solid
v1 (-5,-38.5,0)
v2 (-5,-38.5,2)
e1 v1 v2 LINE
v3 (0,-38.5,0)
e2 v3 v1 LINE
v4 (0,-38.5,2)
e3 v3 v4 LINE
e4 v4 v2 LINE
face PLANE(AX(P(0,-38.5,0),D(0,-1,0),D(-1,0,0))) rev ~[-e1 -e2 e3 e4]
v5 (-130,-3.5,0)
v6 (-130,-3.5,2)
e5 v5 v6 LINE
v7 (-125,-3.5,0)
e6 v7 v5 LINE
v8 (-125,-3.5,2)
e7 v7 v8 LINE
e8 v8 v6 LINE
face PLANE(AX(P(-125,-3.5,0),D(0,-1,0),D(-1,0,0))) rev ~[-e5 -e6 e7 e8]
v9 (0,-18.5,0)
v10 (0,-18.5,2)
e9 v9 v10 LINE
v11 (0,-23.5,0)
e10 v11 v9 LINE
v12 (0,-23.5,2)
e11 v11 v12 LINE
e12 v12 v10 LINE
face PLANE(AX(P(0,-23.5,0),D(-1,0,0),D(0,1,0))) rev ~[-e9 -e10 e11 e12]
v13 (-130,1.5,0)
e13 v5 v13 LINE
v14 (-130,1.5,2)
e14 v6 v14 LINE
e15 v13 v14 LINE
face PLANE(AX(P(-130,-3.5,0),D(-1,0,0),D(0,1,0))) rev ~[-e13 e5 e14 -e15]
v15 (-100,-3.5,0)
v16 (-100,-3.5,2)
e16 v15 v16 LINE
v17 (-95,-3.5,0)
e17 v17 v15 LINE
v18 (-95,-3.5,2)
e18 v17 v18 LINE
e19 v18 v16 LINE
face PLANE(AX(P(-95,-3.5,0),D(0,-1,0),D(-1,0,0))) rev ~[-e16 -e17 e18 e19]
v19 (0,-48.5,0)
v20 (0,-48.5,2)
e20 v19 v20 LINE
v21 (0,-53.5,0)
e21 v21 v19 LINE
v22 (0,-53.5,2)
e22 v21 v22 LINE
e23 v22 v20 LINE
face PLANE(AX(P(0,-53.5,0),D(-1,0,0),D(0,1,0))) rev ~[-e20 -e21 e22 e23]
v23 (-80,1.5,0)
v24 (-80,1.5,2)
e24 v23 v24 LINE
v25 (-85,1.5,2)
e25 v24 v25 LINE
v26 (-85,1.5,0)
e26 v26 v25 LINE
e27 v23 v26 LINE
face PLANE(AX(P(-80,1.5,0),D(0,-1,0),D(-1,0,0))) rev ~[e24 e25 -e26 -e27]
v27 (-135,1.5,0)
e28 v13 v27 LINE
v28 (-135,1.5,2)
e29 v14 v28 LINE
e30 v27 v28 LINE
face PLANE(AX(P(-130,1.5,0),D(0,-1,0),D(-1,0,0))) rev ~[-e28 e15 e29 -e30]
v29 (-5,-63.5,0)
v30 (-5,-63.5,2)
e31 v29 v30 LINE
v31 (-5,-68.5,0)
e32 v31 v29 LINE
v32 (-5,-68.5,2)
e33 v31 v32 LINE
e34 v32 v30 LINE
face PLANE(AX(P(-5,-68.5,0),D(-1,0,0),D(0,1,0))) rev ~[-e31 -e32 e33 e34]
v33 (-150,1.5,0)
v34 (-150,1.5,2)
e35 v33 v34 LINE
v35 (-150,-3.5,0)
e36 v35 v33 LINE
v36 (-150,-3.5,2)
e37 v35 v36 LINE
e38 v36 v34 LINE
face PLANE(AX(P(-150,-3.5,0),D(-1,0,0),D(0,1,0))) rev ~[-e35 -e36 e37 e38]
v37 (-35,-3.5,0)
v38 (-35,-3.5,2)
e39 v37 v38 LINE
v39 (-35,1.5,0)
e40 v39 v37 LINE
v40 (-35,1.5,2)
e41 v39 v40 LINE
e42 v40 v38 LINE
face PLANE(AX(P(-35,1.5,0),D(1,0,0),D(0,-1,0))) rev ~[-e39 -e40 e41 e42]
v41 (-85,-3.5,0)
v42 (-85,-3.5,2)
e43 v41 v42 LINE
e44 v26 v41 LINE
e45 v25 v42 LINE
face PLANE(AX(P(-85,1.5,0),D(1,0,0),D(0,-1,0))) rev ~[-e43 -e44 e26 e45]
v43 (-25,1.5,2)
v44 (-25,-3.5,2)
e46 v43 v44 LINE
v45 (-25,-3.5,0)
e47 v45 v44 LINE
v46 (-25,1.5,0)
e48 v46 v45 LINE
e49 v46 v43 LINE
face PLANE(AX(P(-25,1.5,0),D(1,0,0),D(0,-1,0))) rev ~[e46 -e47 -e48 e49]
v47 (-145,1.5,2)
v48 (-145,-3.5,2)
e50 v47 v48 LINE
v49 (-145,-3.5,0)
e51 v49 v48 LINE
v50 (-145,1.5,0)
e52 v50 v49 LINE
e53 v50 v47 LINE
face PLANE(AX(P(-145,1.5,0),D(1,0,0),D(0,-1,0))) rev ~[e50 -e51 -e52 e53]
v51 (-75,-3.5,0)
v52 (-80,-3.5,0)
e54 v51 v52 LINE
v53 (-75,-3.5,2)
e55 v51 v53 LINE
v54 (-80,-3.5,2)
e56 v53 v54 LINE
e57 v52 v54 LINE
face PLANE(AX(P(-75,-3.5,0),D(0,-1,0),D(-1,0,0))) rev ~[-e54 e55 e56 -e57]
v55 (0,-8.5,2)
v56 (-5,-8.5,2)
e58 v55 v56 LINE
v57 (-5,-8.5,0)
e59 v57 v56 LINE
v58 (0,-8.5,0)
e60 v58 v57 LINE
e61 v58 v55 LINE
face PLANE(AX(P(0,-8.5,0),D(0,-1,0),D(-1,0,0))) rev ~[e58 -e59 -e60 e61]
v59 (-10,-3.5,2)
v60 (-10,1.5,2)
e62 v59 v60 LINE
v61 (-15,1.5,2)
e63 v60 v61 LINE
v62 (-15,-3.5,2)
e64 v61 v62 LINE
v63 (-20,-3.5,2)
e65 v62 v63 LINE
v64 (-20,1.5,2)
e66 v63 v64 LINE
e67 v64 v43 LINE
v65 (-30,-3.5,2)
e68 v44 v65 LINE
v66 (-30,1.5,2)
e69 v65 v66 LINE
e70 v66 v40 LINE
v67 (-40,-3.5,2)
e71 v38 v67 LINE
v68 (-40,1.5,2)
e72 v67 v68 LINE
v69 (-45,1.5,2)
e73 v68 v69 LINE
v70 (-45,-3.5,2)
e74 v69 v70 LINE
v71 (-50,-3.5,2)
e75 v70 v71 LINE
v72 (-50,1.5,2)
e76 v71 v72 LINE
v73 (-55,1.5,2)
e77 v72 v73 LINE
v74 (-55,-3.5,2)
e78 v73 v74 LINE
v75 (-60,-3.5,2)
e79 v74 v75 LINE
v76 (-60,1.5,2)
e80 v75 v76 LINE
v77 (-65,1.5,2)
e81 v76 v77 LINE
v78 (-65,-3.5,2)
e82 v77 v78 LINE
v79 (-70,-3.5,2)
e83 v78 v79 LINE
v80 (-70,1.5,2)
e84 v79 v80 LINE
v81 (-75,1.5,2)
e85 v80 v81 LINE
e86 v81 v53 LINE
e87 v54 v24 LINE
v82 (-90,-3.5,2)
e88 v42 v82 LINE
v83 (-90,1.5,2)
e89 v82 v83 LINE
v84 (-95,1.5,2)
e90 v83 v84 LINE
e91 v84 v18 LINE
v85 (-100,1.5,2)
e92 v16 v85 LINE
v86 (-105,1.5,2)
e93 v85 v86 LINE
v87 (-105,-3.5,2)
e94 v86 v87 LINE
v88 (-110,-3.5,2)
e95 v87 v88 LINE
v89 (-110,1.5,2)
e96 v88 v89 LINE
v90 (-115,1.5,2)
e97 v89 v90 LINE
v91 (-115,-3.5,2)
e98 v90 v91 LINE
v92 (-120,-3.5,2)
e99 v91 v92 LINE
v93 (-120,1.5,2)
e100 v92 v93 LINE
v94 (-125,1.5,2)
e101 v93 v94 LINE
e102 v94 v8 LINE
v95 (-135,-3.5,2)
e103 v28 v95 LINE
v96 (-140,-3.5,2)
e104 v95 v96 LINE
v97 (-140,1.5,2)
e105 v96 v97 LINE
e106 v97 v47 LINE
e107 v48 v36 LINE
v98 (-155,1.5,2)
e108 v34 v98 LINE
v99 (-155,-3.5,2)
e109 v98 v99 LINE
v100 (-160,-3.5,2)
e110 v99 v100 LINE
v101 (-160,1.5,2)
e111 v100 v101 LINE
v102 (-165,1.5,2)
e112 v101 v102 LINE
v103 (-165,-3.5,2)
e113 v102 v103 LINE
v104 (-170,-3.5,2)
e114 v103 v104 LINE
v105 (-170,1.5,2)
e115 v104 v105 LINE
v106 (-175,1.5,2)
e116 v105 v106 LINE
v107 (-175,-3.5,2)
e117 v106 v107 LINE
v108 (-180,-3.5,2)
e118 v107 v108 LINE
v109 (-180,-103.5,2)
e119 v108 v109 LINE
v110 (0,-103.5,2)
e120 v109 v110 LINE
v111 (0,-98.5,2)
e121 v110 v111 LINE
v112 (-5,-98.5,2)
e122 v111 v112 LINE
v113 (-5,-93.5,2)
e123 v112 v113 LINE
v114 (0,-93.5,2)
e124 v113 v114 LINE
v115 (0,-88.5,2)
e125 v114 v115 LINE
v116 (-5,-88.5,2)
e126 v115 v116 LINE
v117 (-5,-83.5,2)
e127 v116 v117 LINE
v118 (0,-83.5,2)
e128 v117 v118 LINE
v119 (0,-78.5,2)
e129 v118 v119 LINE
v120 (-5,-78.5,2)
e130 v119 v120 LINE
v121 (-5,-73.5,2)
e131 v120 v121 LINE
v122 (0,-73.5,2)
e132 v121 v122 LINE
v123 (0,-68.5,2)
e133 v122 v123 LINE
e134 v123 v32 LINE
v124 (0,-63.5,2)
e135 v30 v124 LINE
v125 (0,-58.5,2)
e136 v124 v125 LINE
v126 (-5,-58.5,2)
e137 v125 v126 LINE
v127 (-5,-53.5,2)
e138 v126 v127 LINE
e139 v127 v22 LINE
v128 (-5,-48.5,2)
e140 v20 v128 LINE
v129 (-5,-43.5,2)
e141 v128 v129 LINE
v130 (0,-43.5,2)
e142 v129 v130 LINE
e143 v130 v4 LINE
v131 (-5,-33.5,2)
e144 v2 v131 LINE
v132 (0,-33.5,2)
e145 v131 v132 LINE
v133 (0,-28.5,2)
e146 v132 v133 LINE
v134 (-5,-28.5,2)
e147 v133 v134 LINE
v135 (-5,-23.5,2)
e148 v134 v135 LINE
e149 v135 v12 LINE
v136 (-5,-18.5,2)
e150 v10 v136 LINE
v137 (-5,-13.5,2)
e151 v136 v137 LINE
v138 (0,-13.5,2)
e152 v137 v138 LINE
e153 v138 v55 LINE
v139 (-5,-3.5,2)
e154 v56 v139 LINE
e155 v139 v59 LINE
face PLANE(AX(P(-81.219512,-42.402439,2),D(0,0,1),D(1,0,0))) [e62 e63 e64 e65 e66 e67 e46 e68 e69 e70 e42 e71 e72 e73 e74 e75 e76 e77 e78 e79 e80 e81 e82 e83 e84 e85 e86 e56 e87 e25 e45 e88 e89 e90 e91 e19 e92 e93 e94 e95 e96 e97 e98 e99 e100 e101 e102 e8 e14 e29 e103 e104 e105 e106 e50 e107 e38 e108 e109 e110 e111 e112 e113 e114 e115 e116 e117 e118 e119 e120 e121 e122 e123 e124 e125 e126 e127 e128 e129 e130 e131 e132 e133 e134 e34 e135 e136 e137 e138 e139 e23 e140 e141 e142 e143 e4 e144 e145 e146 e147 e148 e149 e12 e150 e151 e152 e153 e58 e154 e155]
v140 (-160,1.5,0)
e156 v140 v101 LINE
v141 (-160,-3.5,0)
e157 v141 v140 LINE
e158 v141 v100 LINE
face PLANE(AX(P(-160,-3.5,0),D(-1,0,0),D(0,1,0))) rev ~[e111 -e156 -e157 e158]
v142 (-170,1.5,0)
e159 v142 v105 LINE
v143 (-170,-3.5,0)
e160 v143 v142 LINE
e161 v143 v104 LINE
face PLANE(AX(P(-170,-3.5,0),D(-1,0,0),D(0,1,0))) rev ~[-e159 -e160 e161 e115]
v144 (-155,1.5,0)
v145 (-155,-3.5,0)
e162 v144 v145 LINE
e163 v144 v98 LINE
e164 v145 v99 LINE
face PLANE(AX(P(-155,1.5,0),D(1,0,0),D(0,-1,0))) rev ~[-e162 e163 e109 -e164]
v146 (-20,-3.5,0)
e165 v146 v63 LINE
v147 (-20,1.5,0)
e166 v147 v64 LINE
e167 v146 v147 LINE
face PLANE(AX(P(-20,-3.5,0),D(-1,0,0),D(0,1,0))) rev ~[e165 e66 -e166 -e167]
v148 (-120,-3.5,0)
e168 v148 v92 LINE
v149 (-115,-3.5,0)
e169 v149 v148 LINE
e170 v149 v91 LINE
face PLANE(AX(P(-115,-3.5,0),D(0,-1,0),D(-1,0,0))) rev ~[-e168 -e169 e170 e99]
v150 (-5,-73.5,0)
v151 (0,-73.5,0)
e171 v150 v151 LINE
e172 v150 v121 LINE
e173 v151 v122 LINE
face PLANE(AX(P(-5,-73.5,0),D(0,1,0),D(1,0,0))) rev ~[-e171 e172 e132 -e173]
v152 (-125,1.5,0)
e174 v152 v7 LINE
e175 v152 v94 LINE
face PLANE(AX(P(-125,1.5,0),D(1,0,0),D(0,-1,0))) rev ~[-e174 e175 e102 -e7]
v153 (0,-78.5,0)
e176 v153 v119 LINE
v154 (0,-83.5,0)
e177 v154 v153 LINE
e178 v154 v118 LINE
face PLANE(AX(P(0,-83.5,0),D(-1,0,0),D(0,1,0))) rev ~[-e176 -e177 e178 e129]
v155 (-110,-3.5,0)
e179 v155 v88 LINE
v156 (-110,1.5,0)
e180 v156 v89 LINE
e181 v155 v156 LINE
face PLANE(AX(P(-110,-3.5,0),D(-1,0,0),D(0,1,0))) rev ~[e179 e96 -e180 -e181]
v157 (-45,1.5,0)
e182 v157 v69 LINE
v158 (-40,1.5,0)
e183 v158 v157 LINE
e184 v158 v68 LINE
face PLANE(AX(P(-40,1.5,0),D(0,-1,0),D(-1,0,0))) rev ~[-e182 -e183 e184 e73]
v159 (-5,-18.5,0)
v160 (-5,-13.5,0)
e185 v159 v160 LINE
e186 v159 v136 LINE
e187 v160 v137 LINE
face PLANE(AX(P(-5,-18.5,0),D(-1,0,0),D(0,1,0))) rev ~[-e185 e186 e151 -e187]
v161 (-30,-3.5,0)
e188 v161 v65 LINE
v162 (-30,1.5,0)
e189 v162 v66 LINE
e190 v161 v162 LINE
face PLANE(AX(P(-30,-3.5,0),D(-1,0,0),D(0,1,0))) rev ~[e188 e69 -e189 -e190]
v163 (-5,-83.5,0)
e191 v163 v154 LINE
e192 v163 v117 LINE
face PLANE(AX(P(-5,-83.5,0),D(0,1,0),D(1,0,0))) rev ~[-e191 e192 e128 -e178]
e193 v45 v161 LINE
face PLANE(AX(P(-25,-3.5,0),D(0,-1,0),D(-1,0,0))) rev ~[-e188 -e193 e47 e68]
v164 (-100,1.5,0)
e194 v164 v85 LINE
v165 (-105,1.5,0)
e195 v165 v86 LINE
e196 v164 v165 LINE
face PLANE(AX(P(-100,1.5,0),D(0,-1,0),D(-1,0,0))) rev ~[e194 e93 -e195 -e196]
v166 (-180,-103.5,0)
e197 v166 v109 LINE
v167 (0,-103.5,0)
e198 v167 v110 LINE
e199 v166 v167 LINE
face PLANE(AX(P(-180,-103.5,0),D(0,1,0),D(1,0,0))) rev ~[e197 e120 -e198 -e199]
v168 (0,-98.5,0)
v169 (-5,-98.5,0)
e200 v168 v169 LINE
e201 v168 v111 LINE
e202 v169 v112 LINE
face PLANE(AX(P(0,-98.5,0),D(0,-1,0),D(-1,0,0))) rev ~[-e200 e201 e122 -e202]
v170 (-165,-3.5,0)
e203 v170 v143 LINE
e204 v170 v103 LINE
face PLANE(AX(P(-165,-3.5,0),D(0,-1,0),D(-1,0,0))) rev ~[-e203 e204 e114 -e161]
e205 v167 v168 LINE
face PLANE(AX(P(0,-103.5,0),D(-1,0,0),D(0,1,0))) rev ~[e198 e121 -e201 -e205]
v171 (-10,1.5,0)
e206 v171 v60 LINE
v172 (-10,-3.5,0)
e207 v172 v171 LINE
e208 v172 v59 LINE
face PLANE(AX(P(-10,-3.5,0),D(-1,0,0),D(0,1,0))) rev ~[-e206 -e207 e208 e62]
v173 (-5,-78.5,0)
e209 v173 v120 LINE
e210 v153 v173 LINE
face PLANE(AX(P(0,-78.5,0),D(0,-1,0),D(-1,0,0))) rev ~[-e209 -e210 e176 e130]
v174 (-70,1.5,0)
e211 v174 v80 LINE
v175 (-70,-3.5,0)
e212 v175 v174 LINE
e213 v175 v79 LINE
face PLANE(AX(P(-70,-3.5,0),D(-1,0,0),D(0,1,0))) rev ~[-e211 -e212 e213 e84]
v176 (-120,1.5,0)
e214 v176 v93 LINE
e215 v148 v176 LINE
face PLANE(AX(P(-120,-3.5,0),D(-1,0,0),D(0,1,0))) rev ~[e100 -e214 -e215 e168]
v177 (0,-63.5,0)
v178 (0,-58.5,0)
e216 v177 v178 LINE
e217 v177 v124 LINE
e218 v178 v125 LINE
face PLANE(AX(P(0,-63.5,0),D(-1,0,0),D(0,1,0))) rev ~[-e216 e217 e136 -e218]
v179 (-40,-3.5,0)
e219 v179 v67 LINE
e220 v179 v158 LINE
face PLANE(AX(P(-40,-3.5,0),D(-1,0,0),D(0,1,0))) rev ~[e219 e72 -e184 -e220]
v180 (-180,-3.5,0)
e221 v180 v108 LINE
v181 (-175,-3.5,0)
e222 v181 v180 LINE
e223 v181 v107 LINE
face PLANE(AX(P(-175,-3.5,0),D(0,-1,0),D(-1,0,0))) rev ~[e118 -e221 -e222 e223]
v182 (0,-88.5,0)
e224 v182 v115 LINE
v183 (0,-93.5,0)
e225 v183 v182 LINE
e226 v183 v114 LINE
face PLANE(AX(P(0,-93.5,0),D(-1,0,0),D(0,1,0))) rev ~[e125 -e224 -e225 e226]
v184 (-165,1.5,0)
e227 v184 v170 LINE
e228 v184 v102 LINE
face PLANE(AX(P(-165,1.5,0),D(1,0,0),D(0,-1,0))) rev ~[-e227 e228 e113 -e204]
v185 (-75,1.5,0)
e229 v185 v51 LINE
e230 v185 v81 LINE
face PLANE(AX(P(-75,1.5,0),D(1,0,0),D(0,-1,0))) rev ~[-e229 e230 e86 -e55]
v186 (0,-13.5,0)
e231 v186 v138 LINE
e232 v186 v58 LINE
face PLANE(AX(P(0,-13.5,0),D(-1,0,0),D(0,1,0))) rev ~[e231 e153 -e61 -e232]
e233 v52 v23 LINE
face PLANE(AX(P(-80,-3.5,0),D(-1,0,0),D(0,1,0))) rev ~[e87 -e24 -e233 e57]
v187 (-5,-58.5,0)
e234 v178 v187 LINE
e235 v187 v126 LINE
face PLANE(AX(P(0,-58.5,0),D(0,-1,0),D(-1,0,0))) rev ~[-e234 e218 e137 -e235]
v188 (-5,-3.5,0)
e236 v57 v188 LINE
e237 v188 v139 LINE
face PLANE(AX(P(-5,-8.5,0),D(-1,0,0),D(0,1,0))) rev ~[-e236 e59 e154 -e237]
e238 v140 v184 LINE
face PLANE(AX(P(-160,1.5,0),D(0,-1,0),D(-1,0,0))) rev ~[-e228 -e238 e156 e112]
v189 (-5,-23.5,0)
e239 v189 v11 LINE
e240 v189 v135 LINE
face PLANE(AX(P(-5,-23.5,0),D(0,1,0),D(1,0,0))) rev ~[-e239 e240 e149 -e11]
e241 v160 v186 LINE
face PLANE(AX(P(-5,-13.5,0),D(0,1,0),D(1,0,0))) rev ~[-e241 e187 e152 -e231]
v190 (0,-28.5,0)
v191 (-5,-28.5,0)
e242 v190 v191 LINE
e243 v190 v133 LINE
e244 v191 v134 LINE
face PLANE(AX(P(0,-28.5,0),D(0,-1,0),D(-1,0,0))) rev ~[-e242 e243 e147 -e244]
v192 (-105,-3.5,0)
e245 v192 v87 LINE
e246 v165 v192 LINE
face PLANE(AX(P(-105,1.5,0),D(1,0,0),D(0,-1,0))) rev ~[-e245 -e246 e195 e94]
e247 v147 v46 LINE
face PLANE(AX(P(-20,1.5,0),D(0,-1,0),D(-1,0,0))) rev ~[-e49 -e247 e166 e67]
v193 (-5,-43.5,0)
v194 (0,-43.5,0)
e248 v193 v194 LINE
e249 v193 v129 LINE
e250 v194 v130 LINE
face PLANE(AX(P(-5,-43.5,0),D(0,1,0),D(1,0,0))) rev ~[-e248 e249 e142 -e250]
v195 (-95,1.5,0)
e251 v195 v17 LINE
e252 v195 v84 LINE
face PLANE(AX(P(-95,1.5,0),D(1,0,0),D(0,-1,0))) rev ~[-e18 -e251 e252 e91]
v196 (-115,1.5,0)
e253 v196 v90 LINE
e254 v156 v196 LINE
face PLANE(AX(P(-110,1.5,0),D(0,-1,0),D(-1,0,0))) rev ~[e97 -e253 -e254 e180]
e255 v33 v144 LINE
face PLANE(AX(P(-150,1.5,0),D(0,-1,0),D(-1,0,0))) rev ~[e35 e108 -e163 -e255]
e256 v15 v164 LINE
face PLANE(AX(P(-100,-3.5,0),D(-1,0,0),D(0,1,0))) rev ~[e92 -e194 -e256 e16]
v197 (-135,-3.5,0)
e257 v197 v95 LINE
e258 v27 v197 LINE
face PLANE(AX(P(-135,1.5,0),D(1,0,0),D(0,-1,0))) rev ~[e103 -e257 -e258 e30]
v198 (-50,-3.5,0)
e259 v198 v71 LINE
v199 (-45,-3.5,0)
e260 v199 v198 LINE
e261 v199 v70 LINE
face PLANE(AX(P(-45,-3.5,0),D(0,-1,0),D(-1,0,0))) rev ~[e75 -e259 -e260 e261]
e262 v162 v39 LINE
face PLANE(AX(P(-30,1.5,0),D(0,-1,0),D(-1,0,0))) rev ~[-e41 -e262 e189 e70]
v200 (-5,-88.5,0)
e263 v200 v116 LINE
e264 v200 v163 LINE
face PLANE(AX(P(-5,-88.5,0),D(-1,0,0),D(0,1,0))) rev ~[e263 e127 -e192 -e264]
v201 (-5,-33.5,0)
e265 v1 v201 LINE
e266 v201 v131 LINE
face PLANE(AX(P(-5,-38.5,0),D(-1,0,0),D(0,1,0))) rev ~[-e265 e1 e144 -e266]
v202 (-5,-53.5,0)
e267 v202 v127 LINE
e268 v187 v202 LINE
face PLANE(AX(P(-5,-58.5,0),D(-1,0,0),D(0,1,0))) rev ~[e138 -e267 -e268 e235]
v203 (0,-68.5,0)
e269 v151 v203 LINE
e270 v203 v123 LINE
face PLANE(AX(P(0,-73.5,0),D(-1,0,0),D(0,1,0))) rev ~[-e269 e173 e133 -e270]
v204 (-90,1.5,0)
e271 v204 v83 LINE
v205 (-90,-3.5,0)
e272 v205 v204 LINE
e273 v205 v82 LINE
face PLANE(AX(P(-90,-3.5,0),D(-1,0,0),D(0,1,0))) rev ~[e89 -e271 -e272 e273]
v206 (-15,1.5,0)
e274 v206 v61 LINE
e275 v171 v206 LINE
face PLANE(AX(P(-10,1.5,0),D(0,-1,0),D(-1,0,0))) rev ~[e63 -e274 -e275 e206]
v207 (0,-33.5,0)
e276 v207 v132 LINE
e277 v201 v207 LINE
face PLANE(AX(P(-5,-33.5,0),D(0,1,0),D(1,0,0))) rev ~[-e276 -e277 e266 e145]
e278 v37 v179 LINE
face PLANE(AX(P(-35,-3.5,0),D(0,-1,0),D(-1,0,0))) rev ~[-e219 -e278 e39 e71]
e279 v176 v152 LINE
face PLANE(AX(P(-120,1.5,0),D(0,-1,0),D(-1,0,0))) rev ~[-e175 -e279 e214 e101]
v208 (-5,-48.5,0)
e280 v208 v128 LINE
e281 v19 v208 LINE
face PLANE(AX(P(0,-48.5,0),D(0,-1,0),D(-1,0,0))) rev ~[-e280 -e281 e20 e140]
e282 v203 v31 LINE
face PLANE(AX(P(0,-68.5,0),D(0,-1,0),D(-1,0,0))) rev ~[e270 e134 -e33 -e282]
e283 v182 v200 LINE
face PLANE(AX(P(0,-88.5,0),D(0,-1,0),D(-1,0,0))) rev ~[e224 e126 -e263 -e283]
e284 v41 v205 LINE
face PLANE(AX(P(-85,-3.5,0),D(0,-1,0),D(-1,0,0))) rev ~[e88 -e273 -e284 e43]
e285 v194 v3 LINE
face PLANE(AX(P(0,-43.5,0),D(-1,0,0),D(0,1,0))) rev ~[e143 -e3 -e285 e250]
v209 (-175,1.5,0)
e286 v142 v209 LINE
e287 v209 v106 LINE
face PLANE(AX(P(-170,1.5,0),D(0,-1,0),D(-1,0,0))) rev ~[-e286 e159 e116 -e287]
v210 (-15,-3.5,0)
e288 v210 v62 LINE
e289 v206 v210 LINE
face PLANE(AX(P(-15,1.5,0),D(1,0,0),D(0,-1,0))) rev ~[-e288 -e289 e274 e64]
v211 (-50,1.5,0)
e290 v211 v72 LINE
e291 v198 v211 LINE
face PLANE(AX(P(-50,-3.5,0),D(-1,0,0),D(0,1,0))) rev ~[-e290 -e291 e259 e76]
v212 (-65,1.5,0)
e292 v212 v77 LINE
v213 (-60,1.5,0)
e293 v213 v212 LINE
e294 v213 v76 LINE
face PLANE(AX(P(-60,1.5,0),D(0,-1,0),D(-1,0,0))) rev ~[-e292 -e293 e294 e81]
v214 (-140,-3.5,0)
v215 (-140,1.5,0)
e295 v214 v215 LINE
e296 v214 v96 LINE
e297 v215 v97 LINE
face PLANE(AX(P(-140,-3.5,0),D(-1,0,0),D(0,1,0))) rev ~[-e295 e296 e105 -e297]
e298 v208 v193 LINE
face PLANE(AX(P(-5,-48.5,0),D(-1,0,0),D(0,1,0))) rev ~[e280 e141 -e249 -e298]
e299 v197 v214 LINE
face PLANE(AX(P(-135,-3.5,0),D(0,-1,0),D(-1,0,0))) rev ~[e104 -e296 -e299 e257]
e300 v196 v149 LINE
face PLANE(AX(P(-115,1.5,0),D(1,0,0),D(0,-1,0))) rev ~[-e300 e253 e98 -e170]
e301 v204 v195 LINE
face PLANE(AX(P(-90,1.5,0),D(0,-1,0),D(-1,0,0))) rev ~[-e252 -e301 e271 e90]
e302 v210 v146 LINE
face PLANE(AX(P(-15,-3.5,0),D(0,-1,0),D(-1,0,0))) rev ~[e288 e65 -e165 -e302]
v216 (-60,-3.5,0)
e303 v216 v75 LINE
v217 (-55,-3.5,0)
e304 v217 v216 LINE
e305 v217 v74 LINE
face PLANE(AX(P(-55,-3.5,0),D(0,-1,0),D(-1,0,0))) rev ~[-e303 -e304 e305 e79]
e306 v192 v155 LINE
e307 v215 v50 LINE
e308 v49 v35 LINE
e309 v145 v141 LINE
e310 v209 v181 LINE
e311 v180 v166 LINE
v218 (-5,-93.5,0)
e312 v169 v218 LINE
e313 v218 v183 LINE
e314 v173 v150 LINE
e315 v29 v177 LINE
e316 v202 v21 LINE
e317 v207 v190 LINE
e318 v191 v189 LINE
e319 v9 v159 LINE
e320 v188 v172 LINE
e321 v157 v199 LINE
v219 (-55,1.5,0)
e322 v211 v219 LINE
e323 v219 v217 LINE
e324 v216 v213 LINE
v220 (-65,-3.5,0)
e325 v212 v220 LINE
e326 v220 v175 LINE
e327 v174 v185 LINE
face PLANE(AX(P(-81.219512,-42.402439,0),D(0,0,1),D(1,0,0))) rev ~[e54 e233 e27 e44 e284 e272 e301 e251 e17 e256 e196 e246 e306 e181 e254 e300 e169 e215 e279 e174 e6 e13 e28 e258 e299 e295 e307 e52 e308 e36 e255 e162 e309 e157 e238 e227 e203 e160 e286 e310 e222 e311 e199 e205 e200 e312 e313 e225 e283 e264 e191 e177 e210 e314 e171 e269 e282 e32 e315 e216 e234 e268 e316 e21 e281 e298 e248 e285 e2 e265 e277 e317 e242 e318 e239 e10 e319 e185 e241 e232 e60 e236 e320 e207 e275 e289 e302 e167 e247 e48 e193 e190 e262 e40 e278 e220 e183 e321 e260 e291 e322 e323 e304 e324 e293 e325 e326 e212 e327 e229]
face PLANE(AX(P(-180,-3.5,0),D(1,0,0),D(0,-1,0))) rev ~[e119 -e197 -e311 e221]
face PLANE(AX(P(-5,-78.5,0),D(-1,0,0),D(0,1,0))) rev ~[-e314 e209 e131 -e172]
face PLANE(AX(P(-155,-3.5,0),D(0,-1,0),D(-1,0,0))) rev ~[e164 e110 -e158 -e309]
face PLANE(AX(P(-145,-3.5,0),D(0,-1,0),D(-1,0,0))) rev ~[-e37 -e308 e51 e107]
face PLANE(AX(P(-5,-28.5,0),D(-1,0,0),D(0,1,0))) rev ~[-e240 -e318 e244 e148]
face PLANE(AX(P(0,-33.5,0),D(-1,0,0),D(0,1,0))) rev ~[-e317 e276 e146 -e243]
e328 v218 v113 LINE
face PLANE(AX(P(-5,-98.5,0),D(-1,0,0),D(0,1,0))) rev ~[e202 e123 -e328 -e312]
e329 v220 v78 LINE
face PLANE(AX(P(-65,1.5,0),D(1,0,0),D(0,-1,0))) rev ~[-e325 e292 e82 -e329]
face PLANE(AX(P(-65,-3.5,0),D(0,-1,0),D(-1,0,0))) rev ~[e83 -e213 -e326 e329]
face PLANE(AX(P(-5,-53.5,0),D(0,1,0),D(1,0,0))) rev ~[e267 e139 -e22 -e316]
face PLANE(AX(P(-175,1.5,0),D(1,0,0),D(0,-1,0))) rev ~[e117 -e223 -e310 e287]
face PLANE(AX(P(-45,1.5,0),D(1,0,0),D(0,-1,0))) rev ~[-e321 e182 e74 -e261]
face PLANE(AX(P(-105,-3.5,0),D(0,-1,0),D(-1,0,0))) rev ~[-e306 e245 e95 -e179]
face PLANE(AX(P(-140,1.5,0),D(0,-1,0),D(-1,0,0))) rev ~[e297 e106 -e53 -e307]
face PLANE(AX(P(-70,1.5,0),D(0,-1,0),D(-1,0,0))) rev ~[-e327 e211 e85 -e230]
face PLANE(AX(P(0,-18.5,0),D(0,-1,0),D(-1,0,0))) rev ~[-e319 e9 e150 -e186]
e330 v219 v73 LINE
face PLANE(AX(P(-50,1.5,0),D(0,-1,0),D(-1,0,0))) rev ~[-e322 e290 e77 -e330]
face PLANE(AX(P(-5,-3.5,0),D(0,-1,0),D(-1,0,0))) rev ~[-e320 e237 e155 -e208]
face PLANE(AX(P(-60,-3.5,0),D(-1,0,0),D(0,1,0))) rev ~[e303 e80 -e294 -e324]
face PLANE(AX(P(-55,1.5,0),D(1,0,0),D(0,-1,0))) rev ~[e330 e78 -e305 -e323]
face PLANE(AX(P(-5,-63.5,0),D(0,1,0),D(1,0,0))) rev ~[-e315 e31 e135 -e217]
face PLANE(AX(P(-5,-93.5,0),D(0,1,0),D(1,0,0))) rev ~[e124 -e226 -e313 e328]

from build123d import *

# Parameters (mm, degrees)
F1_DEPTH = 2


with BuildPart() as f1:
    # F0 (on Top) → F1 (new body)
    with BuildSketch(Plane.XY):
        Polygon((-180, -3.5), (-180, -103.5), (-5, -103.5), (0, -103.5), (0, -98.5), (-5, -98.5), (-5, -93.5), (0, -93.5), (0, -88.5), (-5, -88.5), (-5, -83.5), (0, -83.5), (0, -78.5), (-5, -78.5), (-5, -73.5), (0, -73.5), (0, -68.5), (-5, -68.5), (-5, -63.5), (0, -63.5), (0, -58.5), (-5, -58.5), (-5, -53.5), (0, -53.5), (0, -48.5), (-5, -48.5), (-5, -43.5), (0, -43.5), (0, -38.5), (-5, -38.5), (-5, -33.5), (0, -33.5), (0, -28.5), (-5, -28.5), (-5, -23.5), (0, -23.5), (0, -18.5), (-5, -18.5), (-5, -13.5), (0, -13.5), (0, -8.5), (-5, -8.5), (-5, -3.5), (-10, -3.5), (-10, 1.5), (-15, 1.5), (-15, -3.5), (-20, -3.5), (-20, 1.5), (-25, 1.5), (-25, -3.5), (-30, -3.5), (-30, 1.5), (-35, 1.5), (-35, -3.5), (-40, -3.5), (-40, 1.5), (-45, 1.5), (-45, -3.5), (-50, -3.5), (-50, 1.5), (-55, 1.5), (-55, -3.5), (-60, -3.5), (-60, 1.5), (-65, 1.5), (-65, -3.5), (-70, -3.5), (-70, 1.5), (-75, 1.5), (-75, -3.5), (-80, -3.5), (-80, 1.5), (-85, 1.5), (-85, -3.5), (-90, -3.5), (-90, 1.5), (-95, 1.5), (-95, -3.5), (-100, -3.5), (-100, 1.5), (-105, 1.5), (-105, -3.5), (-110, -3.5), (-110, 1.5), (-115, 1.5), (-115, -3.5), (-120, -3.5), (-120, 1.5), (-125, 1.5), (-125, -3.5), (-130, -3.5), (-130, 1.5), (-135, 1.5), (-135, -3.5), (-140, -3.5), (-140, 1.5), (-145, 1.5), (-145, -3.5), (-150, -3.5), (-150, 1.5), (-155, 1.5), (-155, -3.5), (-160, -3.5), (-160, 1.5), (-165, 1.5), (-165, -3.5), (-170, -3.5), (-170, 1.5), (-175, 1.5), (-175, -3.5), align=None)
    extrude(amount=F1_DEPTH)


solid = f1.part
